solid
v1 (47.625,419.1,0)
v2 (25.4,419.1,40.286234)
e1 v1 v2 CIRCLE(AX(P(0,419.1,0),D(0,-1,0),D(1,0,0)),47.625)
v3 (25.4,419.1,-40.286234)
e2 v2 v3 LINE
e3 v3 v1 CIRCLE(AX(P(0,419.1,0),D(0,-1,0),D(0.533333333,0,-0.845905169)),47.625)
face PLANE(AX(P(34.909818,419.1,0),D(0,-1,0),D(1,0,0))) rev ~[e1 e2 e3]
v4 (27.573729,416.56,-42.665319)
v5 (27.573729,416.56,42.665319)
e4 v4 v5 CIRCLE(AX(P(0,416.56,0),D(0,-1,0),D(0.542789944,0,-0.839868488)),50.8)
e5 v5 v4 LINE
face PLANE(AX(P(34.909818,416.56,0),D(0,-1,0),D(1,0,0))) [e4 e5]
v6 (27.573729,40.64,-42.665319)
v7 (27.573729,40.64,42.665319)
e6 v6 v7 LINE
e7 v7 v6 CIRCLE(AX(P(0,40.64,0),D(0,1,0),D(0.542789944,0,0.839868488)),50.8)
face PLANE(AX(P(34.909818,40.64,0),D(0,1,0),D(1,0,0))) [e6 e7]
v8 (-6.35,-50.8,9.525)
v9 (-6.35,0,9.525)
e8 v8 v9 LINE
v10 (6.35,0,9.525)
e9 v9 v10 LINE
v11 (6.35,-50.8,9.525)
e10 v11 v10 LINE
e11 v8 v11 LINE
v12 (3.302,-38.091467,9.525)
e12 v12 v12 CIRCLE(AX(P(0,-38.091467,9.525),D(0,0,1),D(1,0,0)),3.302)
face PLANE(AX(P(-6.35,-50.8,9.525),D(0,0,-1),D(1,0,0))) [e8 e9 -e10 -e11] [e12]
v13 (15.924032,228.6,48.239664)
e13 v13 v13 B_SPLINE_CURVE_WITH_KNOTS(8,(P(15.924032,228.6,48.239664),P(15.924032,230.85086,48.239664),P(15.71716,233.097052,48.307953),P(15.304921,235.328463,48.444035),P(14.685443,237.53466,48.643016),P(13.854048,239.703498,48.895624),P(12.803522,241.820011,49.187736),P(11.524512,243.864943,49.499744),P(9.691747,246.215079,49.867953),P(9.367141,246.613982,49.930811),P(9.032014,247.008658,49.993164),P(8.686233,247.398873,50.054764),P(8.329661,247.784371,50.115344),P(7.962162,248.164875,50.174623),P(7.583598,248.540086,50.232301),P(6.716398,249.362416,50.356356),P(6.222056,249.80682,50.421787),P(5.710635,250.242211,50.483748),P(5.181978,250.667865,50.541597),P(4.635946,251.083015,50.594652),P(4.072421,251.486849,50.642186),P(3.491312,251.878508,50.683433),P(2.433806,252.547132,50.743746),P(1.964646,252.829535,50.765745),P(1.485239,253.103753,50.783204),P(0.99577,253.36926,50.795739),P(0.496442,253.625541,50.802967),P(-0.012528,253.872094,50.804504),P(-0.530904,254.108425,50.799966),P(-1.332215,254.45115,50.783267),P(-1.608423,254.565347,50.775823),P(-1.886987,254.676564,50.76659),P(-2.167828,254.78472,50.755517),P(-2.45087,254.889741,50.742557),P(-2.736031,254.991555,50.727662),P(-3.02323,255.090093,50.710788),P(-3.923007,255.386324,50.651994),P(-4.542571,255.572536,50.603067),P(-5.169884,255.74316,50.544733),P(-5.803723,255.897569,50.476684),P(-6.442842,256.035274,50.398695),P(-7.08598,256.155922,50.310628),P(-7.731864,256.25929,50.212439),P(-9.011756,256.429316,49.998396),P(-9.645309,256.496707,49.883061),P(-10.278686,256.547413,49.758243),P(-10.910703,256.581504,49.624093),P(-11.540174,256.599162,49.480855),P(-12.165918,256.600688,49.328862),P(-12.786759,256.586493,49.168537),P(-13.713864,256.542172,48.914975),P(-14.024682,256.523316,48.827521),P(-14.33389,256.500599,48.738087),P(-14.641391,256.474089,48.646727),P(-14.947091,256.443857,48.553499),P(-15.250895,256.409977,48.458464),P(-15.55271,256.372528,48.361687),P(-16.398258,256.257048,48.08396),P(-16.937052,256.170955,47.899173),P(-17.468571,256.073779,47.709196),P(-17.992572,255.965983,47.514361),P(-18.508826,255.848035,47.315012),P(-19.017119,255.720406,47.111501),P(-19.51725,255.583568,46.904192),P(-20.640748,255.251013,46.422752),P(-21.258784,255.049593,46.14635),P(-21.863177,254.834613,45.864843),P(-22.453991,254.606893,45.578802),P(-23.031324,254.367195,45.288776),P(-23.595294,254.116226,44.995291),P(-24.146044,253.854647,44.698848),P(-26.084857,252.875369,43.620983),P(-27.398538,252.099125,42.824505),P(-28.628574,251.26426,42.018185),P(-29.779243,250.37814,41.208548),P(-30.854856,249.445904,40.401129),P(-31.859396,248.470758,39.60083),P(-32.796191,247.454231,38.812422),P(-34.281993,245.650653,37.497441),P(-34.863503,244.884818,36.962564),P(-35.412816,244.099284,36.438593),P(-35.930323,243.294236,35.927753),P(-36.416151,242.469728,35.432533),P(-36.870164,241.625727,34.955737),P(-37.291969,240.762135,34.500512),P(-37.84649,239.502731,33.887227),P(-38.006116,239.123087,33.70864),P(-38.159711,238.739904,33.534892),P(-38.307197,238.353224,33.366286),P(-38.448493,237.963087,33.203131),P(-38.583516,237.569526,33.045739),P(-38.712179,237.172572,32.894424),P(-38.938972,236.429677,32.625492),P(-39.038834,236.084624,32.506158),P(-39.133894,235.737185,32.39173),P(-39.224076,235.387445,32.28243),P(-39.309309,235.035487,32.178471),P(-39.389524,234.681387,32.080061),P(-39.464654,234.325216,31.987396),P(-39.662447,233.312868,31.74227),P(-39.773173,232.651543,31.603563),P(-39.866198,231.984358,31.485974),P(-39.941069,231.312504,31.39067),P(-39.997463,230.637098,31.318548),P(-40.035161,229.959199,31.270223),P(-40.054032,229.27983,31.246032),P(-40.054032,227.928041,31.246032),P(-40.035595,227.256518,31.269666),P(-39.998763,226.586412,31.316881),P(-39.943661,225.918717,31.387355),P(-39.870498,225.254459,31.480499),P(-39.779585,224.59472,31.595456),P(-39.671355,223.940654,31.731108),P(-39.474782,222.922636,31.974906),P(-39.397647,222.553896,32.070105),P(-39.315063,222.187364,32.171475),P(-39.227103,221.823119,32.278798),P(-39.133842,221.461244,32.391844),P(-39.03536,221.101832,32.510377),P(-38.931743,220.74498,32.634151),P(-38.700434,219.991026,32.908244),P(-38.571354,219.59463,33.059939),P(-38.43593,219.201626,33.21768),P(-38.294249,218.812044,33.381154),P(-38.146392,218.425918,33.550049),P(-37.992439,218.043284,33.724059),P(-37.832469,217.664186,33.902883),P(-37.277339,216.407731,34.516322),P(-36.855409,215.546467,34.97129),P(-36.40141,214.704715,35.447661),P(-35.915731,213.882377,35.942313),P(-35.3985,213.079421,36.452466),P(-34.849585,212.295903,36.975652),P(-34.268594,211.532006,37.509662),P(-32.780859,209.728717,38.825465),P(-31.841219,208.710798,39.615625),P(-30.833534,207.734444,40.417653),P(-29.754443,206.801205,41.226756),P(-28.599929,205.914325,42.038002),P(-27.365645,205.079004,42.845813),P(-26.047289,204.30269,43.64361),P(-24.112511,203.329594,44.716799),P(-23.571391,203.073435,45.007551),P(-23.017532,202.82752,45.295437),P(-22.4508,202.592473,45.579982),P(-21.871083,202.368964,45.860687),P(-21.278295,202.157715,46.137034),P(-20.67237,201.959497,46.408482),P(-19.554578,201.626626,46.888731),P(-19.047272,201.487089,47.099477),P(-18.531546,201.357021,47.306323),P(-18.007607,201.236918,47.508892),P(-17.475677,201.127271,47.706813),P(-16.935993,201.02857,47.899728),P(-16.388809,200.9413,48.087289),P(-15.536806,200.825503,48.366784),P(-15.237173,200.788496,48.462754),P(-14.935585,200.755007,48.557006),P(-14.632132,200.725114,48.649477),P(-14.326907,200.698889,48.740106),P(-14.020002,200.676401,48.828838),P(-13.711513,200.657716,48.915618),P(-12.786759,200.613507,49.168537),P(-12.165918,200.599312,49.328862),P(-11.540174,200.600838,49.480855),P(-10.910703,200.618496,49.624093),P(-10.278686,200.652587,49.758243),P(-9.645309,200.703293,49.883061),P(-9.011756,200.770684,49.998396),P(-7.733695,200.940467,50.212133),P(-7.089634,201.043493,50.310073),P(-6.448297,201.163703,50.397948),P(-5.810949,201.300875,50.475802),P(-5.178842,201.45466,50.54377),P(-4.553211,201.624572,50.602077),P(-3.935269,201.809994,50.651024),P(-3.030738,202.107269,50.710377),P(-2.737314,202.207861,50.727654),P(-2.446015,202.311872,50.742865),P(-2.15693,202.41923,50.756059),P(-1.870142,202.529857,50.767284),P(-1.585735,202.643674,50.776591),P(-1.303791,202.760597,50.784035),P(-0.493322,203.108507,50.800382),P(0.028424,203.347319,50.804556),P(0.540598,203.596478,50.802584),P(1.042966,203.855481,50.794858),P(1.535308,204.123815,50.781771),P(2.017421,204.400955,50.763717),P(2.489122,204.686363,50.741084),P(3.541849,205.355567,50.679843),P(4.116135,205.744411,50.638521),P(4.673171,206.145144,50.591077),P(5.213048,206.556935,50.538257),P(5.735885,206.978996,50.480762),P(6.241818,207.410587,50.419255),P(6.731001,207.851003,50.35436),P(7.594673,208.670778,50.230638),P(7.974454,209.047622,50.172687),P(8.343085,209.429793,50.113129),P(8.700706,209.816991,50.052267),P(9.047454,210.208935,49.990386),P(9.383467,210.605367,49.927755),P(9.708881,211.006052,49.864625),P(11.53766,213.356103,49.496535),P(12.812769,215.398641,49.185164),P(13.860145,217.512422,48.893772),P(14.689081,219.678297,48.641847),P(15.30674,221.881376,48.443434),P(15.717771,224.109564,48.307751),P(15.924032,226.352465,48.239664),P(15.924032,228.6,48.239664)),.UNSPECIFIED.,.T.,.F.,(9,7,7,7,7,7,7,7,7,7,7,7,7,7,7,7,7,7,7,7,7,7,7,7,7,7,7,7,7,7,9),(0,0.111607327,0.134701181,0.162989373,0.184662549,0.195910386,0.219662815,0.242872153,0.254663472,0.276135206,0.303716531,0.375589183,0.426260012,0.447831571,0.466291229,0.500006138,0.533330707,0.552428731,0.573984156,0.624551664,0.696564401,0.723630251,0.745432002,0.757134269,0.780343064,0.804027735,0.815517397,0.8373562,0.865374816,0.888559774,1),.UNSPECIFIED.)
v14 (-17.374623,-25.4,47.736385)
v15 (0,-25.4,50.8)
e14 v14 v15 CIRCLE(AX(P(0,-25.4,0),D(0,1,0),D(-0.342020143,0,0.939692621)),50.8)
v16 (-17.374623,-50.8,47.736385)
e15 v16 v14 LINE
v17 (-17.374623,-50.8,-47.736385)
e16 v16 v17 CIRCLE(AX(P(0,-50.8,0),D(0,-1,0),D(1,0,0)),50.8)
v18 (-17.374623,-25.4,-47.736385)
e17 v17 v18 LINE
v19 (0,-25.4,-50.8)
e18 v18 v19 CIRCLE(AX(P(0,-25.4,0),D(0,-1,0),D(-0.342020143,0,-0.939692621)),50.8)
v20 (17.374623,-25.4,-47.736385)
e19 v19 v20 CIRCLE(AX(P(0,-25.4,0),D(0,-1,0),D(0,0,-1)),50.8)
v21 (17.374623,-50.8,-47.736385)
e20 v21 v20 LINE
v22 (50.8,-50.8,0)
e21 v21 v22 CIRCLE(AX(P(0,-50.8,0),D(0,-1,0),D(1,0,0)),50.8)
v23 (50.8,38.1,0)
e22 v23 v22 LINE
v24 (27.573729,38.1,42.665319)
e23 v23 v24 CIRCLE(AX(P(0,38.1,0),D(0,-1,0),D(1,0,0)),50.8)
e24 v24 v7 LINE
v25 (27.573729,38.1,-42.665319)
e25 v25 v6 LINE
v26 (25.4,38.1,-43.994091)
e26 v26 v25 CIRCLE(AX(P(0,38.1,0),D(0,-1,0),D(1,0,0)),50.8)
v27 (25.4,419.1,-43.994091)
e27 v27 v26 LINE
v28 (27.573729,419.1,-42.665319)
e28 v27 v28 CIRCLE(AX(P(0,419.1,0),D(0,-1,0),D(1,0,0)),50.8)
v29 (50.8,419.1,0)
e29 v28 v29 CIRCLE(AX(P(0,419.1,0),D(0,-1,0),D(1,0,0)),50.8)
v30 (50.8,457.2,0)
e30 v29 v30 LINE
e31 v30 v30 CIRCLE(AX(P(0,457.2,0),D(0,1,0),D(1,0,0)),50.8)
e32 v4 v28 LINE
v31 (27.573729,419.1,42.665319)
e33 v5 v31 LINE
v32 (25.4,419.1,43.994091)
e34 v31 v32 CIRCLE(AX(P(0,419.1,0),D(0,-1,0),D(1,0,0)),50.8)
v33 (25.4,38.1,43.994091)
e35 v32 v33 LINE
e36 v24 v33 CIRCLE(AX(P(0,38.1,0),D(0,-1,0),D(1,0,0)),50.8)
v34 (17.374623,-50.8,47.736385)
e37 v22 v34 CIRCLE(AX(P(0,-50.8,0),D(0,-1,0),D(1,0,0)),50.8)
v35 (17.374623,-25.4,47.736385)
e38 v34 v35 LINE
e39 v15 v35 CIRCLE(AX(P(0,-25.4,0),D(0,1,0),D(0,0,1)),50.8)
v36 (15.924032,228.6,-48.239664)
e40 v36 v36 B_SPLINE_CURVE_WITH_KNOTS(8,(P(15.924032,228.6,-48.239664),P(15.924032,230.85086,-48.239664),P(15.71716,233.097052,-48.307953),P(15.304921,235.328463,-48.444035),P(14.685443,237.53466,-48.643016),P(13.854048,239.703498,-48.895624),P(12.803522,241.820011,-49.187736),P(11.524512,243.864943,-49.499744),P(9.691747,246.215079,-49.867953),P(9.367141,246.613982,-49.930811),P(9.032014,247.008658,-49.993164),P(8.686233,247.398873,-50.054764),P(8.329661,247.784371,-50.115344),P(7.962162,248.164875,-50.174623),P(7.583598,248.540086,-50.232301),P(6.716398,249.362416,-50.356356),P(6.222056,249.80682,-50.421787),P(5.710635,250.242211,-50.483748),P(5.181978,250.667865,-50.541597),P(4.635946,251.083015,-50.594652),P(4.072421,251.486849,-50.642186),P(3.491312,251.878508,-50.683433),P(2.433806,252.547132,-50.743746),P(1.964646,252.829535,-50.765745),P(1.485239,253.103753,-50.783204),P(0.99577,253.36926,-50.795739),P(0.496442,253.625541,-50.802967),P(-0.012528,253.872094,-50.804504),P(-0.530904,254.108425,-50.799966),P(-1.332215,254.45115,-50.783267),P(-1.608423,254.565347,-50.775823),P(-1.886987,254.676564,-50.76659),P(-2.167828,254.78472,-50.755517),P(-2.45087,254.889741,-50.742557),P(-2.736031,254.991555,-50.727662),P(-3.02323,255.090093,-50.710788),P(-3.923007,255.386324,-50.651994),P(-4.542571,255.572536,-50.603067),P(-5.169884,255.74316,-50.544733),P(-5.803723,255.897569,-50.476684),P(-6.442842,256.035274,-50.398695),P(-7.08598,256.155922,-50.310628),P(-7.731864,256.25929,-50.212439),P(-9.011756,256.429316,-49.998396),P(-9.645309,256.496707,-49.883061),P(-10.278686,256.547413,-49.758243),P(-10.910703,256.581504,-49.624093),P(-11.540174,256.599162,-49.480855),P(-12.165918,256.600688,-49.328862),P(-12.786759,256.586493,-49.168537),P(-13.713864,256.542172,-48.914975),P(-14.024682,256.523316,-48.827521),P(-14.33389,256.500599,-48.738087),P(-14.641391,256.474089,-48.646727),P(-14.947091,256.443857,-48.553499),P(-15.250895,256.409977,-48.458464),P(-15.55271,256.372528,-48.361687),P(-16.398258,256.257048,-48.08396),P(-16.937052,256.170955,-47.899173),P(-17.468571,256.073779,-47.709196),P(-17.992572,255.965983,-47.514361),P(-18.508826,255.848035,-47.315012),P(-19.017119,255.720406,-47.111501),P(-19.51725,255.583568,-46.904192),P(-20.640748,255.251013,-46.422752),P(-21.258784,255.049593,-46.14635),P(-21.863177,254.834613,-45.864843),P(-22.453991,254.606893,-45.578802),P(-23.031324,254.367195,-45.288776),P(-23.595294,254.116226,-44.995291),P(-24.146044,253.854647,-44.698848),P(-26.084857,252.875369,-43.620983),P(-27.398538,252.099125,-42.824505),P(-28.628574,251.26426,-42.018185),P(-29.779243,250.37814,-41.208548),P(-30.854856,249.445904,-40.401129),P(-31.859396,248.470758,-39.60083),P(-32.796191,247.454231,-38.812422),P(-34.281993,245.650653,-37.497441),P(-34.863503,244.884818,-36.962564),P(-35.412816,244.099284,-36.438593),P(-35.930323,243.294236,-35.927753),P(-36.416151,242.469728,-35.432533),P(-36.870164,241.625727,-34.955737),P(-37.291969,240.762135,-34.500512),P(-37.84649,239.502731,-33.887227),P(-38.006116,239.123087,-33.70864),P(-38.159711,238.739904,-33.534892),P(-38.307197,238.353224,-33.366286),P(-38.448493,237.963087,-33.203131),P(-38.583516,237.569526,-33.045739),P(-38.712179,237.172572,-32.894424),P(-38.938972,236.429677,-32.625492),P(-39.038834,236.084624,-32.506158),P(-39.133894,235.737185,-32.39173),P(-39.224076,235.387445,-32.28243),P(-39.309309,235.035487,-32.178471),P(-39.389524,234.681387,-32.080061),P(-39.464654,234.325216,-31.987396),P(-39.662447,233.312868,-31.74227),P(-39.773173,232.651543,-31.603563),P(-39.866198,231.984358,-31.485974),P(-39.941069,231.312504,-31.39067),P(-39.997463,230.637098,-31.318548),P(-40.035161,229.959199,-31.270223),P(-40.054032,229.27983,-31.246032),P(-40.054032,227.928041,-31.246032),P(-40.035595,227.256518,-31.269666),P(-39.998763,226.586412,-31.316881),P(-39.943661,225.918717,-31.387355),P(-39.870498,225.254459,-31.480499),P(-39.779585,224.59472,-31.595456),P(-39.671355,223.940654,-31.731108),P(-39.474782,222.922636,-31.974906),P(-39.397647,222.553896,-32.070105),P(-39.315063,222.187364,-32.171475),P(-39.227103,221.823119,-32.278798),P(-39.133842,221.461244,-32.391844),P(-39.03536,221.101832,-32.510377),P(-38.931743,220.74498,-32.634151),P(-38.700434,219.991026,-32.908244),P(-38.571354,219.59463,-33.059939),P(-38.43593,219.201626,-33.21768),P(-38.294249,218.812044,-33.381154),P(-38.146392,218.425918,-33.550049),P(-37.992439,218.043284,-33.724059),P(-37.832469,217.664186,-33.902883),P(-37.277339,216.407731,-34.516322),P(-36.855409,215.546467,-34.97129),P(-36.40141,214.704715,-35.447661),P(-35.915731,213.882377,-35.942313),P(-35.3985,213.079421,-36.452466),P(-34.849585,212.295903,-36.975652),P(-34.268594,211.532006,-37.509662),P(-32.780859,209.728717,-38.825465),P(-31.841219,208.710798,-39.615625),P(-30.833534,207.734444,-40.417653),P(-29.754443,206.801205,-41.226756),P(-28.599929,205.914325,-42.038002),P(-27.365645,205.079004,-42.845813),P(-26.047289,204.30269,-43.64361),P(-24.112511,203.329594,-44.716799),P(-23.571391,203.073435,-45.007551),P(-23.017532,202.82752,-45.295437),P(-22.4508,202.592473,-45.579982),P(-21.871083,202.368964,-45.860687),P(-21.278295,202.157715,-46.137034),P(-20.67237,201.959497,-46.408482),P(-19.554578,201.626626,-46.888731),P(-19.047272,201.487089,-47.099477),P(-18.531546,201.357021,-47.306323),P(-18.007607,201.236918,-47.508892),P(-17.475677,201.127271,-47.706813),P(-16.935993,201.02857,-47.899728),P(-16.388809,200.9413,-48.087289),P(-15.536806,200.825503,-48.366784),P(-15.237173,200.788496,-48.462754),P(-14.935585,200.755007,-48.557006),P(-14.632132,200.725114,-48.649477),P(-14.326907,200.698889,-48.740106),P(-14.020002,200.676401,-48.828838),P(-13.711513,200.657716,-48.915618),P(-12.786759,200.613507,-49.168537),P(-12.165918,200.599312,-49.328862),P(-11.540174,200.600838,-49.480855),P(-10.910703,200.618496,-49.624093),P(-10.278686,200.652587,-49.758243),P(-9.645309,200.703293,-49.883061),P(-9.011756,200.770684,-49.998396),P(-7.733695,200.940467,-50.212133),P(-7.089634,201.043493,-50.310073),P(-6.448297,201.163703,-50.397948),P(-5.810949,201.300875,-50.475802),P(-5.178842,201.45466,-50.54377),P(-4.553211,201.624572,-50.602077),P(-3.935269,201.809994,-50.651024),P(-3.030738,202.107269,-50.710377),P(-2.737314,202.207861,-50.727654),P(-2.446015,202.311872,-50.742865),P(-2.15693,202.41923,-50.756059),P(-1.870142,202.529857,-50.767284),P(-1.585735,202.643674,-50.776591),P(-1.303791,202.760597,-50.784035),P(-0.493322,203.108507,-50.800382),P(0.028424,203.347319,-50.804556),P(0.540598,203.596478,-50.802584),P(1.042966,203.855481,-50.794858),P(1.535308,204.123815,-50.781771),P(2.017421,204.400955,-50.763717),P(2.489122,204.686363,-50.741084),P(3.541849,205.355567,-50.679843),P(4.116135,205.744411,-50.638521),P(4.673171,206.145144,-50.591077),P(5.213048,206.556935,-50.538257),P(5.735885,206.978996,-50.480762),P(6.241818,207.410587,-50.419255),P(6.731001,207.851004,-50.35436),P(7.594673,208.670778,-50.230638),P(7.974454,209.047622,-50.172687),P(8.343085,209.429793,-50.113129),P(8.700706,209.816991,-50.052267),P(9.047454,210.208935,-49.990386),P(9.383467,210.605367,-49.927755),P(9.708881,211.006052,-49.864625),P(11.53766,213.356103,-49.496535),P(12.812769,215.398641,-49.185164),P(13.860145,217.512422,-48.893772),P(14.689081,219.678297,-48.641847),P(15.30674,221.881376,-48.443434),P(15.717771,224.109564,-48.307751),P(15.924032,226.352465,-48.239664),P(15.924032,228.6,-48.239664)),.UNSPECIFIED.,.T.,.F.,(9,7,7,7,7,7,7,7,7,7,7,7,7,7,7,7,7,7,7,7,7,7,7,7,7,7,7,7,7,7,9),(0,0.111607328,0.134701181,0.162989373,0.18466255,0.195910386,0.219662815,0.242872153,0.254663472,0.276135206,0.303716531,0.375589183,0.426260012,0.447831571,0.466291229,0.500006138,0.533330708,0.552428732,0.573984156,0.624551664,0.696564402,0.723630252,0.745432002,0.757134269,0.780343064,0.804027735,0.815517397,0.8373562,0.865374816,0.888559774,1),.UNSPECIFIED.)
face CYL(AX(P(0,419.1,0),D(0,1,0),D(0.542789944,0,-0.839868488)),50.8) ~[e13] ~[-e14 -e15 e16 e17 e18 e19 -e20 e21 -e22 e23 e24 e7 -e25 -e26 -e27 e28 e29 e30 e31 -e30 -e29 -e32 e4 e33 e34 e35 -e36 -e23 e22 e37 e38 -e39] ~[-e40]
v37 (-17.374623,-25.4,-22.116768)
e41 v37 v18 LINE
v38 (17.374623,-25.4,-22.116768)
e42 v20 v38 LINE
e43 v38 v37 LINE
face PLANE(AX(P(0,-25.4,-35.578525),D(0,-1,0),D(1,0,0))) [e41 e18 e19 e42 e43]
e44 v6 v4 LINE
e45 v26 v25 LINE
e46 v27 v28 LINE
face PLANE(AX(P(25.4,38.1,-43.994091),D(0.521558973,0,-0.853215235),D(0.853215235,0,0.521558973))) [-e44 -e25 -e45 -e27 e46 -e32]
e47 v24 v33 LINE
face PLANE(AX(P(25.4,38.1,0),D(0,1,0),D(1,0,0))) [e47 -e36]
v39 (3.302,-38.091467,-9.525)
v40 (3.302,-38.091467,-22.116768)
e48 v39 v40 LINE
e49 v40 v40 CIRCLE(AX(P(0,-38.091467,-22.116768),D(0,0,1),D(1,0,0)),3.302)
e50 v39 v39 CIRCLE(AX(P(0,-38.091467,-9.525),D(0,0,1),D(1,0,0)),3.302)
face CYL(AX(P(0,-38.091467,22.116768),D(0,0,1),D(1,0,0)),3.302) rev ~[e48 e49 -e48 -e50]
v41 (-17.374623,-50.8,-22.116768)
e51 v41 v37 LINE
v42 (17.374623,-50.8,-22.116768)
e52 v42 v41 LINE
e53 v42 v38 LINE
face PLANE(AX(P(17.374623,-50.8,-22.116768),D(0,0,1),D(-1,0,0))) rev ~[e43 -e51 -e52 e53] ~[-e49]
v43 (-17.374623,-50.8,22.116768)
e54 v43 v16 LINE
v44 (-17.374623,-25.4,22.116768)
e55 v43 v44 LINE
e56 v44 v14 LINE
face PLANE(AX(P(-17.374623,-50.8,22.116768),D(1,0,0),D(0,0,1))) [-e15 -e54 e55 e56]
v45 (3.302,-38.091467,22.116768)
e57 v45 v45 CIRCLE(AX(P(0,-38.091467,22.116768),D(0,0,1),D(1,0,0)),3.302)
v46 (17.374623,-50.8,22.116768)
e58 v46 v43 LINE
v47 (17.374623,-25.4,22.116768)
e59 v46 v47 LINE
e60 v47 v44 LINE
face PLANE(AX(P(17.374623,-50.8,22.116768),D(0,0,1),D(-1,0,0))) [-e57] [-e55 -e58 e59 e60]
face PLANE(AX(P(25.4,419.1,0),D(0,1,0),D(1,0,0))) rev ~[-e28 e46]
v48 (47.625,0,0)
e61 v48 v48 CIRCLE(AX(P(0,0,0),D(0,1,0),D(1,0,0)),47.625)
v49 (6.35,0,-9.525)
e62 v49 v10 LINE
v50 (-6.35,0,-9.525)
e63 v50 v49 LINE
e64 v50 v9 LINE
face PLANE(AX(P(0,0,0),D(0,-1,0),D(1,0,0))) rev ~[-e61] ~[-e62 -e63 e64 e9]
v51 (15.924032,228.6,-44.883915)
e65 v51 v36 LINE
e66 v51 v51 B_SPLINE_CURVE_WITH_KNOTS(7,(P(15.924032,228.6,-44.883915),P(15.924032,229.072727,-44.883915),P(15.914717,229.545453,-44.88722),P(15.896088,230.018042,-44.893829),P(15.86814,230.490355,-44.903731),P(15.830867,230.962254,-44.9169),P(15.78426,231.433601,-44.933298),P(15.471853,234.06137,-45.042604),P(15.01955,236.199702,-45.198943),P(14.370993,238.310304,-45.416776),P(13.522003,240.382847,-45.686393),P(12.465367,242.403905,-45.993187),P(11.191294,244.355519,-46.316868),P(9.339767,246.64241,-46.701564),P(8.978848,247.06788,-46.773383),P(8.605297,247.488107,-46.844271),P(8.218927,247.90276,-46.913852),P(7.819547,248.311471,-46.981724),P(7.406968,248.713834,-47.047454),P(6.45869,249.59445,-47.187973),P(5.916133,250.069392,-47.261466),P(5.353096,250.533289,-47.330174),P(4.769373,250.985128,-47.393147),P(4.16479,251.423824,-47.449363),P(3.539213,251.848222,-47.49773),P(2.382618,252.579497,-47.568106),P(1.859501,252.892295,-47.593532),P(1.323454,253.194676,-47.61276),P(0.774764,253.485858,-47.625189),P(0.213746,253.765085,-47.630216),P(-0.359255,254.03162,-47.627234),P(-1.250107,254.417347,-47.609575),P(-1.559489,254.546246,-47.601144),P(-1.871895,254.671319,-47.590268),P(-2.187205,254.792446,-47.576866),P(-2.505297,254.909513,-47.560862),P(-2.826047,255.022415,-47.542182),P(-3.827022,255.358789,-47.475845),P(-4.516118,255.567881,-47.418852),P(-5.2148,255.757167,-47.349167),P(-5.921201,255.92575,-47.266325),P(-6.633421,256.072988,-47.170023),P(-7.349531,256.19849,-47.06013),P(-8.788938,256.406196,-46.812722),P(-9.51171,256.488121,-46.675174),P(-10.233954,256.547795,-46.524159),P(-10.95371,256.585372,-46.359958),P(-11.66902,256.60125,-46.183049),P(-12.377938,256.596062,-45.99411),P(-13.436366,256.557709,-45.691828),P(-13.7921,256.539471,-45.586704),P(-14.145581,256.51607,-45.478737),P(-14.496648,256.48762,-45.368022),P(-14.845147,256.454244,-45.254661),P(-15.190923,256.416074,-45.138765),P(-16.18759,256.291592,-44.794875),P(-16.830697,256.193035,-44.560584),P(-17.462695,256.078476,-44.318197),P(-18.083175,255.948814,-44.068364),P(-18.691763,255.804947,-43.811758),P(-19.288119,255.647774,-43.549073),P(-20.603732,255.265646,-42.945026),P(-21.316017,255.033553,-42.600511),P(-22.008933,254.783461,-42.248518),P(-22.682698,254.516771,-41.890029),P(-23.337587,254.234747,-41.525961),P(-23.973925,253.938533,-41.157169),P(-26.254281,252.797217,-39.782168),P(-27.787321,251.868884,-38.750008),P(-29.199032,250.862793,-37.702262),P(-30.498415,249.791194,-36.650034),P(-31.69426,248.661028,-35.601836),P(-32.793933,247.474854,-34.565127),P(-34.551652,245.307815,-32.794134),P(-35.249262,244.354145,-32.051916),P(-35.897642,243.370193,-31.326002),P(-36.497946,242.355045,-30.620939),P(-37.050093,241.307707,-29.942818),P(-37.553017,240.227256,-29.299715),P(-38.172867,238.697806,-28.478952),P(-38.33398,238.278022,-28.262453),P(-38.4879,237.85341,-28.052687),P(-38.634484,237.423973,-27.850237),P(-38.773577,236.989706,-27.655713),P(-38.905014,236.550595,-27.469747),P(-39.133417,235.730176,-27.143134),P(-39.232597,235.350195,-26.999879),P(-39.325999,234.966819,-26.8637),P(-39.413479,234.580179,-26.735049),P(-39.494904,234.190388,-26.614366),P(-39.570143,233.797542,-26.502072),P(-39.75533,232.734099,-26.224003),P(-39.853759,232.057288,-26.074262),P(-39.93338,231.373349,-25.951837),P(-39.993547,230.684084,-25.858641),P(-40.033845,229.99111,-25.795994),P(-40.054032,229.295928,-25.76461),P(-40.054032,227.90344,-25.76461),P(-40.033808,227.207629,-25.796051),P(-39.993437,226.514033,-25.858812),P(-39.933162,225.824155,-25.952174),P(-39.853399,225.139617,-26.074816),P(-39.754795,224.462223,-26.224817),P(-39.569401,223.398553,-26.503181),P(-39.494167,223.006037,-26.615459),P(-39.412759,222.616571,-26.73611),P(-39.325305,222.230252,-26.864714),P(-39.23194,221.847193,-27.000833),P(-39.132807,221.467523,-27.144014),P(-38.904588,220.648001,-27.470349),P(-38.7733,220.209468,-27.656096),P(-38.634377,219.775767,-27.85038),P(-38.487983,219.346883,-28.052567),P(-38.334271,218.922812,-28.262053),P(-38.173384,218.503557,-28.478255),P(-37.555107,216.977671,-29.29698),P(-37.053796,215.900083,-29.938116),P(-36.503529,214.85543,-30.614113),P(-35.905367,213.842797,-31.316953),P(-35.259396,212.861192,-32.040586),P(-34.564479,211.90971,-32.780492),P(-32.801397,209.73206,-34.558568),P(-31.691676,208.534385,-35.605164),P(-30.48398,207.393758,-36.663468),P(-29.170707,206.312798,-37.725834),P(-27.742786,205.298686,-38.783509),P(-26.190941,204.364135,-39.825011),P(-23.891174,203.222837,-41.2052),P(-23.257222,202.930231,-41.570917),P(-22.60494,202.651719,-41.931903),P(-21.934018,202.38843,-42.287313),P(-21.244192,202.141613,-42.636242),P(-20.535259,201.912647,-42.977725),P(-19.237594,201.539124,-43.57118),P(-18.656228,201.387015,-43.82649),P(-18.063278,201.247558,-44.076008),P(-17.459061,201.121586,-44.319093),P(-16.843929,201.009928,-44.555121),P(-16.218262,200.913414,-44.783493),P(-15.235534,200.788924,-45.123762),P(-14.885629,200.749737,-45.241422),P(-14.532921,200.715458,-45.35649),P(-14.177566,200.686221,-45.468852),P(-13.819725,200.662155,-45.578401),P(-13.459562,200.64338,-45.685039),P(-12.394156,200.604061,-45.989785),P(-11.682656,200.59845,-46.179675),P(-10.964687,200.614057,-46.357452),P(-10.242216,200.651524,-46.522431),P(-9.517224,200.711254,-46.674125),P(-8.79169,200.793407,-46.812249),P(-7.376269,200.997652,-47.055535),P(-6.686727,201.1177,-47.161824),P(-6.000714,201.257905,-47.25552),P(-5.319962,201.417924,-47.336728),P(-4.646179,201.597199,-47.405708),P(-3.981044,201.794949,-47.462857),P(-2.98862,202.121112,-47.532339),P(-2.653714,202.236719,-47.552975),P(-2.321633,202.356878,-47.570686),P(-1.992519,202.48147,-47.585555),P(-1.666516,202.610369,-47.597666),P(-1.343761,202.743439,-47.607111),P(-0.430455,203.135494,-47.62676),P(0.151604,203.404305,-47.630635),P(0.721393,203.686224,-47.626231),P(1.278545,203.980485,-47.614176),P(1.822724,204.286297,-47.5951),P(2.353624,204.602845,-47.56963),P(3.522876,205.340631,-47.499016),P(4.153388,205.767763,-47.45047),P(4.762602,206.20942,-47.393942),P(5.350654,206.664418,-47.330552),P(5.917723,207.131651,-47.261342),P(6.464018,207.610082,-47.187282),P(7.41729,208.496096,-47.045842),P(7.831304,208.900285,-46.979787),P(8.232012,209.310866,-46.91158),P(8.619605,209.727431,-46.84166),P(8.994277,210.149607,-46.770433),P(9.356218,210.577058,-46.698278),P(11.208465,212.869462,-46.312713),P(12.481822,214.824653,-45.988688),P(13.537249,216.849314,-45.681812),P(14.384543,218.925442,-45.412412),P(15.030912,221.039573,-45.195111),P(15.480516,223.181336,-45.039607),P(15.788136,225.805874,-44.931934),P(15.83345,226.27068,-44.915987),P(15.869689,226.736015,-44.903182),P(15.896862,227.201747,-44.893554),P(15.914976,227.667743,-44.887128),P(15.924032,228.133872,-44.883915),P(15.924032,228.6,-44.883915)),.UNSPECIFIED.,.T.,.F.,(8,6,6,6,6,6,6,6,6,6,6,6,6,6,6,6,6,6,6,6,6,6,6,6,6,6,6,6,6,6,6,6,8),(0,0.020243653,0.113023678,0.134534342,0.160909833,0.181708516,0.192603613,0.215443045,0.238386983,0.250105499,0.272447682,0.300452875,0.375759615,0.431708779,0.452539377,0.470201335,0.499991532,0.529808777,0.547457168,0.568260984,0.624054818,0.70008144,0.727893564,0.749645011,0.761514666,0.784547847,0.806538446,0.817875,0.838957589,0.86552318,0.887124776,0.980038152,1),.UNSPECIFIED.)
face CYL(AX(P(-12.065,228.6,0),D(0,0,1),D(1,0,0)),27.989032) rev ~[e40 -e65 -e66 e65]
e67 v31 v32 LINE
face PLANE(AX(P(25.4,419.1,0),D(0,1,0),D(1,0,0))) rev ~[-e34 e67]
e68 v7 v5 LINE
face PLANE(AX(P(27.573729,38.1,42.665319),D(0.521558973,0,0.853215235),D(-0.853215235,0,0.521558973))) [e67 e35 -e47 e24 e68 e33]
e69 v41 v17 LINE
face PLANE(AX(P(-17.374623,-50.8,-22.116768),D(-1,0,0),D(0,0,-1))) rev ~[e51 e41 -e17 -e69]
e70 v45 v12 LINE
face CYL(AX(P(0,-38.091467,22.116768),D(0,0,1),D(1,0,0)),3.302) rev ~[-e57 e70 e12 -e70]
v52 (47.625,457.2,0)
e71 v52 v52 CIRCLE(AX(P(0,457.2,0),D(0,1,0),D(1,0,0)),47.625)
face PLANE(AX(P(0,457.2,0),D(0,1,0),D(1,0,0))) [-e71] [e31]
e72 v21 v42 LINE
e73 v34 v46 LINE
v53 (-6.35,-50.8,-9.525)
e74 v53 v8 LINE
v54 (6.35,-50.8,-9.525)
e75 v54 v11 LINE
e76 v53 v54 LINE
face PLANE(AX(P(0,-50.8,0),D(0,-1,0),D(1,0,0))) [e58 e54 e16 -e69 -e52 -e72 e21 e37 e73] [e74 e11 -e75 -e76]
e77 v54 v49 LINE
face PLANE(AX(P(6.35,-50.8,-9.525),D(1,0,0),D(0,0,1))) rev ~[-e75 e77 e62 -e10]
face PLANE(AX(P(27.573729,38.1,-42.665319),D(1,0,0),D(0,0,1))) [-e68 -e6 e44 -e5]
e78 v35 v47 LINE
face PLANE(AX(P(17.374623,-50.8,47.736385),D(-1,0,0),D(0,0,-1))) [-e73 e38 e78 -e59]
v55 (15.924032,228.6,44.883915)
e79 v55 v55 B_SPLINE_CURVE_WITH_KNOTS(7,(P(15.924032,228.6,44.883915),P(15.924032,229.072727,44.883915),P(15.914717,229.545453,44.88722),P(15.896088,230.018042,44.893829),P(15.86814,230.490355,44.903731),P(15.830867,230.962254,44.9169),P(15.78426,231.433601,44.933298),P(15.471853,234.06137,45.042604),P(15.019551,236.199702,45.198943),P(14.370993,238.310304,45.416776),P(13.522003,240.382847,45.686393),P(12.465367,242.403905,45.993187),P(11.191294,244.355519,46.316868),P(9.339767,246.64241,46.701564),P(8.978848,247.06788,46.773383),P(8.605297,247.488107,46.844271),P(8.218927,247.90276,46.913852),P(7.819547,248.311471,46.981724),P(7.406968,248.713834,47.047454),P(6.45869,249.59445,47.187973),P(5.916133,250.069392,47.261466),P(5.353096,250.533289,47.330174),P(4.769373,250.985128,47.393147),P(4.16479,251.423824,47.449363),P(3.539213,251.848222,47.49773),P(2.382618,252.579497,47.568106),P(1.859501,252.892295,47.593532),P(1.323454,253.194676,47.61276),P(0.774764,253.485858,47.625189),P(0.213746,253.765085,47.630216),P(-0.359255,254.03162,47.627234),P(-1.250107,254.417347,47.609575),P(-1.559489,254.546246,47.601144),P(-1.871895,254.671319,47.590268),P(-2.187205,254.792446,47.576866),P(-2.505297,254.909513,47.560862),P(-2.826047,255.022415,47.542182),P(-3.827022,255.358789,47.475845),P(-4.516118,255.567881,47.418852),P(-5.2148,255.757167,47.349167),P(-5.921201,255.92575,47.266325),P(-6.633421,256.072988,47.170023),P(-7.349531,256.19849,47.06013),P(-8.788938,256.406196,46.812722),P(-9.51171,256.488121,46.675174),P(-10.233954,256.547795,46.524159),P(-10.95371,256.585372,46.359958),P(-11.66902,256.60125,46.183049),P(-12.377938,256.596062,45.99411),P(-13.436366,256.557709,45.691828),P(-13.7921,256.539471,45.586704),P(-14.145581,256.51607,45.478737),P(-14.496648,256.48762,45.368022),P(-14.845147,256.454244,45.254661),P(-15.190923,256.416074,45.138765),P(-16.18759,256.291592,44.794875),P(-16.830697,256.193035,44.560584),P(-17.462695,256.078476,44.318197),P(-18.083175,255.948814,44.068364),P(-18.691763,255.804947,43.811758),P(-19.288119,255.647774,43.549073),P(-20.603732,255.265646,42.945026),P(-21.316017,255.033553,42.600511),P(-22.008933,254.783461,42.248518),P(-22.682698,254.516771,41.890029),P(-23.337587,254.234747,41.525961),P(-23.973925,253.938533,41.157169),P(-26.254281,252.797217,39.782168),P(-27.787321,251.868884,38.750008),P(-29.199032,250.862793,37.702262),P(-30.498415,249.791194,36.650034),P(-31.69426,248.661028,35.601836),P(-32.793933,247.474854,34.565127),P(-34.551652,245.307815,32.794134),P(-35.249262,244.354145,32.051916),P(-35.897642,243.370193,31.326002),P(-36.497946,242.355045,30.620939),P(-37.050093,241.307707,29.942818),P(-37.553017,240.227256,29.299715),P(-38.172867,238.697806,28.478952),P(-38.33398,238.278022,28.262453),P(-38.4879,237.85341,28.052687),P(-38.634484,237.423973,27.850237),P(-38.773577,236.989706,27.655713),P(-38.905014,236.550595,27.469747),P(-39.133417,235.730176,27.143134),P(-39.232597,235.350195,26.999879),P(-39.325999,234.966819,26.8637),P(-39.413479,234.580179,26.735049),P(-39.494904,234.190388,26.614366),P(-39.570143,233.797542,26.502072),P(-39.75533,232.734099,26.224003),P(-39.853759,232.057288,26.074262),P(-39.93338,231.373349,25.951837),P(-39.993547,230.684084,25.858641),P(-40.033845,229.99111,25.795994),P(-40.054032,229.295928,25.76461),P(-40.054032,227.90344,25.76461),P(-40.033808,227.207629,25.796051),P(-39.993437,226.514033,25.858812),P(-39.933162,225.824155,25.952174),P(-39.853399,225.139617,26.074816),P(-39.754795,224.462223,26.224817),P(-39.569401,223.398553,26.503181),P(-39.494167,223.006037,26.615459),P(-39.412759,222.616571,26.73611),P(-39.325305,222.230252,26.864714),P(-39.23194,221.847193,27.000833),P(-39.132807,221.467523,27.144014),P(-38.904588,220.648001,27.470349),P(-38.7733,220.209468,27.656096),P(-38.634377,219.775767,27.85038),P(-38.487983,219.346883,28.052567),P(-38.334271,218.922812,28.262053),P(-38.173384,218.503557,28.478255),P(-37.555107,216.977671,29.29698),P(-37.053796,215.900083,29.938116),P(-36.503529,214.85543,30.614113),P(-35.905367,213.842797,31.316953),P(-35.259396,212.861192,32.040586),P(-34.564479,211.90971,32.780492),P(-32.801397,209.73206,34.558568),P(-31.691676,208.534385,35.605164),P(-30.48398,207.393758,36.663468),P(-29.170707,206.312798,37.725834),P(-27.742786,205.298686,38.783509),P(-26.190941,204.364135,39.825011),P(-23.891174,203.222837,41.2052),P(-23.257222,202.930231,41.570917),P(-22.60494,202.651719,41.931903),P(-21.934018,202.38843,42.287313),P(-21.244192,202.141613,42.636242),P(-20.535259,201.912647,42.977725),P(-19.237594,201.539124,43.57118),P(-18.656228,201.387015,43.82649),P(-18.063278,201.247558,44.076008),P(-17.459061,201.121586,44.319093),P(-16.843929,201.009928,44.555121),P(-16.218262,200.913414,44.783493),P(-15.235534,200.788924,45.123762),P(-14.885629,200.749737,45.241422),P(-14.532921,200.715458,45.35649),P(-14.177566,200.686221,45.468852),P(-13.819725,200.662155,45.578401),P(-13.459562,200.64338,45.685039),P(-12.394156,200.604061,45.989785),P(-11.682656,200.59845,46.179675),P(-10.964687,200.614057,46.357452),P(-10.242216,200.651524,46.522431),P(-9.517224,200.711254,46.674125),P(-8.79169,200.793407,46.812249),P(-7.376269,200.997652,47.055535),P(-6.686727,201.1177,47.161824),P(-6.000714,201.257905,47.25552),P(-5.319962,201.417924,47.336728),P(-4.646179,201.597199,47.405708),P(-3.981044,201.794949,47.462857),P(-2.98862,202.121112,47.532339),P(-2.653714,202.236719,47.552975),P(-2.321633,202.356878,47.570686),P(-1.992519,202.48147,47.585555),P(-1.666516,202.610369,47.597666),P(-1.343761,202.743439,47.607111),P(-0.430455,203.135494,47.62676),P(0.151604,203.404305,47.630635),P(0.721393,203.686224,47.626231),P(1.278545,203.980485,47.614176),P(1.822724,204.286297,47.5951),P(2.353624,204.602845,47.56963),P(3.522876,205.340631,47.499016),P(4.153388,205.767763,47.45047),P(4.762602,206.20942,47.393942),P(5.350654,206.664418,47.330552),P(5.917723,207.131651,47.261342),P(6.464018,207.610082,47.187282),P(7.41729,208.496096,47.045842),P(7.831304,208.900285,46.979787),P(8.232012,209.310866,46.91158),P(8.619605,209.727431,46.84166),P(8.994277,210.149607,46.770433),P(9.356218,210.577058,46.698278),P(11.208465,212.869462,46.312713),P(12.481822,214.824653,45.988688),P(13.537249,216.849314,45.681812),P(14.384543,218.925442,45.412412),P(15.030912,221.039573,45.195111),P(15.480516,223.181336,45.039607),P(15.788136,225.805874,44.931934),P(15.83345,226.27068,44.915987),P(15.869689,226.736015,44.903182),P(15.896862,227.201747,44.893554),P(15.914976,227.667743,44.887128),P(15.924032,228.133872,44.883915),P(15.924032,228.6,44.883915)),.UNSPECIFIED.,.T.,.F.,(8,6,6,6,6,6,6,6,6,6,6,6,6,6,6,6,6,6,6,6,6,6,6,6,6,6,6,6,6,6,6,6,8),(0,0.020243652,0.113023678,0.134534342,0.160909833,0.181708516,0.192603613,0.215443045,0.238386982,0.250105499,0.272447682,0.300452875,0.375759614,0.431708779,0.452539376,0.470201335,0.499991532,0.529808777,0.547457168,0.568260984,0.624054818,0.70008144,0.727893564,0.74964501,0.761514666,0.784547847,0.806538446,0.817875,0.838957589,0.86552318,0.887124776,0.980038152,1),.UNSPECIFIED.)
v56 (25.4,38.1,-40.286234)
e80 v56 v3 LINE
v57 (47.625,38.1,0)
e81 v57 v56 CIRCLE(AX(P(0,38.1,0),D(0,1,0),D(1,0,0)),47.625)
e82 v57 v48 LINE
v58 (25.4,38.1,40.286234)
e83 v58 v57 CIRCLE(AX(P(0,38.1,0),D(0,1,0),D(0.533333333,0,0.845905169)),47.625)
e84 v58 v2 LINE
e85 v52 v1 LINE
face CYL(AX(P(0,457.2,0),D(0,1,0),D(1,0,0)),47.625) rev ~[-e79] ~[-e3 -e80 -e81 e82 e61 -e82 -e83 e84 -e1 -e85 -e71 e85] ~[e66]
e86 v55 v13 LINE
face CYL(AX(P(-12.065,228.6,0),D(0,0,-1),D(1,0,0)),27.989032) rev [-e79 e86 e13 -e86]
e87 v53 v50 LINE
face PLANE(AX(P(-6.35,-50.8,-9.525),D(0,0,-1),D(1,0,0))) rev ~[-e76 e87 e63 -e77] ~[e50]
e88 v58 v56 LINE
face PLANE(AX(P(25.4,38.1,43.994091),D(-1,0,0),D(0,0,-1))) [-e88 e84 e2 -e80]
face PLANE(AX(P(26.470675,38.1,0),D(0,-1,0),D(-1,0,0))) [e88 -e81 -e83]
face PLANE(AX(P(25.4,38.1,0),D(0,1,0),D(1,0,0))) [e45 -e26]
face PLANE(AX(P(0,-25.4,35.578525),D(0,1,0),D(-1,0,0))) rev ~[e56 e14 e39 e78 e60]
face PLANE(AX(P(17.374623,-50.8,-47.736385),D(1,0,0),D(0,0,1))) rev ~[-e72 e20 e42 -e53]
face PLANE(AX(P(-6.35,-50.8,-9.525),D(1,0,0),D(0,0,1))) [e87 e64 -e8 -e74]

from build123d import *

# Parameters (mm, degrees)
SKETCH1_R               = 50.8
BOSS_EXTRUDE1_DEPTH     = 457.2
SKETCH2_R               = 47.625
CUT_EXTRUDE1_DEPTH      = 458.2
SKETCH3_R               = 27.989032433
SKETCH3_W               = 25.4
SKETCH3_H               = 381
CUT_EXTRUDE3_DEPTH      = 51.8
CUT_EXTRUDE3_DEPTH_BACK = 51.8
BOSS_EXTRUDE2_DEPTH     = 381
SKETCH6_R               = 50.8
BOSS_EXTRUDE3_DEPTH     = 50.8
CUT_EXTRUDE4_DEPTH      = 25.4
SKETCH8_R               = 3.302
CUT_EXTRUDE5_DEPTH      = 73.916768016
BOSS_EXTRUDE4_DEPTH     = 2.54
BOSS_EXTRUDE5_DEPTH     = 2.54
SKETCH26_W              = 12.7
SKETCH26_H              = 19.05
CUT_EXTRUDE6_DEPTH      = 84.582


with BuildPart() as part:
    # Sketch1 → Boss-Extrude1 (new body)
    with BuildSketch(Plane(origin=(0, 0, 0), x_dir=(1, 0, 0), z_dir=(0, 1, 0))):
        Circle(SKETCH1_R)
    extrude(amount=BOSS_EXTRUDE1_DEPTH)

    # Sketch2 → Cut-Extrude1 (cut, through all)
    with BuildSketch(Plane(origin=(0, 457.2, 0), x_dir=(1, 0, 0), z_dir=(0, 1, 0))):
        Circle(SKETCH2_R)
    extrude(amount=-CUT_EXTRUDE1_DEPTH, mode=Mode.SUBTRACT)

    # Sketch3 → Cut-Extrude3 (cut, two sides)
    with BuildSketch(Plane.XY) as cut_extrude3_sk:
        with Locations((-12.065, 228.6)):
            Circle(SKETCH3_R)
        with Locations((38.1, 228.6)):
            Rectangle(SKETCH3_W, SKETCH3_H)
    extrude(amount=CUT_EXTRUDE3_DEPTH, mode=Mode.SUBTRACT)
    extrude(cut_extrude3_sk.sketch, amount=-CUT_EXTRUDE3_DEPTH_BACK, mode=Mode.SUBTRACT)

    # Sketch5 → Boss-Extrude2 (add)
    with BuildSketch(Plane(origin=(0, 38.1, 0), x_dir=(1, 0, 0), z_dir=(0, 1, 0))):
        Polygon((25.4, -43.994090512), (25.4, 43.994090512), (27.573729132, 42.665319192), (27.573729132, -42.665319192), align=None)
    extrude(amount=BOSS_EXTRUDE2_DEPTH)

    # Sketch6 → Boss-Extrude3 (add)
    with BuildSketch(Plane.XZ):
        Circle(SKETCH6_R)
    extrude(amount=BOSS_EXTRUDE3_DEPTH)

    # Sketch7 → Cut-Extrude4 (cut)
    with BuildSketch(Plane.XZ.offset(50.8)):
        with BuildLine():
            Line((17.374623281, 47.736385136), (17.374623281, 22.116767912))
            Line((17.374623281, 22.116767912), (-17.374623281, 22.116767912))
            Line((-17.374623281, 22.116767912), (-17.374623281, 47.736385136))
            ThreePointArc((-17.374623281, 47.736385136), (-8.821327425, 50.028233853), (0, 50.8))
            ThreePointArc((0, 50.8), (8.821327425, 50.028233853), (17.374623281, 47.736385136))
        make_face()
        with BuildLine():
            Line((17.374623281, -22.116767912), (-17.374623281, -22.116767912))
            Line((-17.374623281, -22.116767912), (-17.374623281, -47.736385136))
            ThreePointArc((-17.374623281, -47.736385136), (-8.821327425, -50.028233853), (0, -50.8))
            ThreePointArc((0, -50.8), (8.821327425, -50.028233853), (17.374623281, -47.736385136))
            Line((17.374623281, -47.736385136), (17.374623281, -22.116767912))
        make_face()
    extrude(amount=-CUT_EXTRUDE4_DEPTH, mode=Mode.SUBTRACT)

    # Sketch8 → Cut-Extrude5 (cut, through all)
    with BuildSketch(Plane.XY.offset(22.116767912)):
        with Locations((0, -38.091466754)):
            Circle(SKETCH8_R)
    extrude(amount=-CUT_EXTRUDE5_DEPTH, mode=Mode.SUBTRACT)

    # Sketch9 → Boss-Extrude4 (add)
    with BuildSketch(Plane(origin=(0, 38.1, 0), x_dir=(1, 0, 0), z_dir=(0, 1, 0))):
        with BuildLine():
            Line((27.573729132, 42.665319192), (27.573729132, -42.665319192))
            ThreePointArc((27.573729132, -42.665319192), (50.8, 0), (27.573729132, 42.665319192))
        make_face()
    extrude(amount=BOSS_EXTRUDE4_DEPTH)

    # Sketch10 → Boss-Extrude5 (add)
    with BuildSketch(Plane.XZ.offset(-419.1)):
        with BuildLine():
            Line((27.573729132, 42.665319192), (27.573729132, -42.665319192))
            ThreePointArc((27.573729132, -42.665319192), (50.8, 0), (27.573729132, 42.665319192))
        make_face()
    extrude(amount=BOSS_EXTRUDE5_DEPTH)

    # Sketch26 → Cut-Extrude6 (cut)
    with BuildSketch(Plane.XZ.offset(50.8)):
        Rectangle(SKETCH26_W, SKETCH26_H)
    extrude(amount=-CUT_EXTRUDE6_DEPTH, mode=Mode.SUBTRACT)


solid = part.part
